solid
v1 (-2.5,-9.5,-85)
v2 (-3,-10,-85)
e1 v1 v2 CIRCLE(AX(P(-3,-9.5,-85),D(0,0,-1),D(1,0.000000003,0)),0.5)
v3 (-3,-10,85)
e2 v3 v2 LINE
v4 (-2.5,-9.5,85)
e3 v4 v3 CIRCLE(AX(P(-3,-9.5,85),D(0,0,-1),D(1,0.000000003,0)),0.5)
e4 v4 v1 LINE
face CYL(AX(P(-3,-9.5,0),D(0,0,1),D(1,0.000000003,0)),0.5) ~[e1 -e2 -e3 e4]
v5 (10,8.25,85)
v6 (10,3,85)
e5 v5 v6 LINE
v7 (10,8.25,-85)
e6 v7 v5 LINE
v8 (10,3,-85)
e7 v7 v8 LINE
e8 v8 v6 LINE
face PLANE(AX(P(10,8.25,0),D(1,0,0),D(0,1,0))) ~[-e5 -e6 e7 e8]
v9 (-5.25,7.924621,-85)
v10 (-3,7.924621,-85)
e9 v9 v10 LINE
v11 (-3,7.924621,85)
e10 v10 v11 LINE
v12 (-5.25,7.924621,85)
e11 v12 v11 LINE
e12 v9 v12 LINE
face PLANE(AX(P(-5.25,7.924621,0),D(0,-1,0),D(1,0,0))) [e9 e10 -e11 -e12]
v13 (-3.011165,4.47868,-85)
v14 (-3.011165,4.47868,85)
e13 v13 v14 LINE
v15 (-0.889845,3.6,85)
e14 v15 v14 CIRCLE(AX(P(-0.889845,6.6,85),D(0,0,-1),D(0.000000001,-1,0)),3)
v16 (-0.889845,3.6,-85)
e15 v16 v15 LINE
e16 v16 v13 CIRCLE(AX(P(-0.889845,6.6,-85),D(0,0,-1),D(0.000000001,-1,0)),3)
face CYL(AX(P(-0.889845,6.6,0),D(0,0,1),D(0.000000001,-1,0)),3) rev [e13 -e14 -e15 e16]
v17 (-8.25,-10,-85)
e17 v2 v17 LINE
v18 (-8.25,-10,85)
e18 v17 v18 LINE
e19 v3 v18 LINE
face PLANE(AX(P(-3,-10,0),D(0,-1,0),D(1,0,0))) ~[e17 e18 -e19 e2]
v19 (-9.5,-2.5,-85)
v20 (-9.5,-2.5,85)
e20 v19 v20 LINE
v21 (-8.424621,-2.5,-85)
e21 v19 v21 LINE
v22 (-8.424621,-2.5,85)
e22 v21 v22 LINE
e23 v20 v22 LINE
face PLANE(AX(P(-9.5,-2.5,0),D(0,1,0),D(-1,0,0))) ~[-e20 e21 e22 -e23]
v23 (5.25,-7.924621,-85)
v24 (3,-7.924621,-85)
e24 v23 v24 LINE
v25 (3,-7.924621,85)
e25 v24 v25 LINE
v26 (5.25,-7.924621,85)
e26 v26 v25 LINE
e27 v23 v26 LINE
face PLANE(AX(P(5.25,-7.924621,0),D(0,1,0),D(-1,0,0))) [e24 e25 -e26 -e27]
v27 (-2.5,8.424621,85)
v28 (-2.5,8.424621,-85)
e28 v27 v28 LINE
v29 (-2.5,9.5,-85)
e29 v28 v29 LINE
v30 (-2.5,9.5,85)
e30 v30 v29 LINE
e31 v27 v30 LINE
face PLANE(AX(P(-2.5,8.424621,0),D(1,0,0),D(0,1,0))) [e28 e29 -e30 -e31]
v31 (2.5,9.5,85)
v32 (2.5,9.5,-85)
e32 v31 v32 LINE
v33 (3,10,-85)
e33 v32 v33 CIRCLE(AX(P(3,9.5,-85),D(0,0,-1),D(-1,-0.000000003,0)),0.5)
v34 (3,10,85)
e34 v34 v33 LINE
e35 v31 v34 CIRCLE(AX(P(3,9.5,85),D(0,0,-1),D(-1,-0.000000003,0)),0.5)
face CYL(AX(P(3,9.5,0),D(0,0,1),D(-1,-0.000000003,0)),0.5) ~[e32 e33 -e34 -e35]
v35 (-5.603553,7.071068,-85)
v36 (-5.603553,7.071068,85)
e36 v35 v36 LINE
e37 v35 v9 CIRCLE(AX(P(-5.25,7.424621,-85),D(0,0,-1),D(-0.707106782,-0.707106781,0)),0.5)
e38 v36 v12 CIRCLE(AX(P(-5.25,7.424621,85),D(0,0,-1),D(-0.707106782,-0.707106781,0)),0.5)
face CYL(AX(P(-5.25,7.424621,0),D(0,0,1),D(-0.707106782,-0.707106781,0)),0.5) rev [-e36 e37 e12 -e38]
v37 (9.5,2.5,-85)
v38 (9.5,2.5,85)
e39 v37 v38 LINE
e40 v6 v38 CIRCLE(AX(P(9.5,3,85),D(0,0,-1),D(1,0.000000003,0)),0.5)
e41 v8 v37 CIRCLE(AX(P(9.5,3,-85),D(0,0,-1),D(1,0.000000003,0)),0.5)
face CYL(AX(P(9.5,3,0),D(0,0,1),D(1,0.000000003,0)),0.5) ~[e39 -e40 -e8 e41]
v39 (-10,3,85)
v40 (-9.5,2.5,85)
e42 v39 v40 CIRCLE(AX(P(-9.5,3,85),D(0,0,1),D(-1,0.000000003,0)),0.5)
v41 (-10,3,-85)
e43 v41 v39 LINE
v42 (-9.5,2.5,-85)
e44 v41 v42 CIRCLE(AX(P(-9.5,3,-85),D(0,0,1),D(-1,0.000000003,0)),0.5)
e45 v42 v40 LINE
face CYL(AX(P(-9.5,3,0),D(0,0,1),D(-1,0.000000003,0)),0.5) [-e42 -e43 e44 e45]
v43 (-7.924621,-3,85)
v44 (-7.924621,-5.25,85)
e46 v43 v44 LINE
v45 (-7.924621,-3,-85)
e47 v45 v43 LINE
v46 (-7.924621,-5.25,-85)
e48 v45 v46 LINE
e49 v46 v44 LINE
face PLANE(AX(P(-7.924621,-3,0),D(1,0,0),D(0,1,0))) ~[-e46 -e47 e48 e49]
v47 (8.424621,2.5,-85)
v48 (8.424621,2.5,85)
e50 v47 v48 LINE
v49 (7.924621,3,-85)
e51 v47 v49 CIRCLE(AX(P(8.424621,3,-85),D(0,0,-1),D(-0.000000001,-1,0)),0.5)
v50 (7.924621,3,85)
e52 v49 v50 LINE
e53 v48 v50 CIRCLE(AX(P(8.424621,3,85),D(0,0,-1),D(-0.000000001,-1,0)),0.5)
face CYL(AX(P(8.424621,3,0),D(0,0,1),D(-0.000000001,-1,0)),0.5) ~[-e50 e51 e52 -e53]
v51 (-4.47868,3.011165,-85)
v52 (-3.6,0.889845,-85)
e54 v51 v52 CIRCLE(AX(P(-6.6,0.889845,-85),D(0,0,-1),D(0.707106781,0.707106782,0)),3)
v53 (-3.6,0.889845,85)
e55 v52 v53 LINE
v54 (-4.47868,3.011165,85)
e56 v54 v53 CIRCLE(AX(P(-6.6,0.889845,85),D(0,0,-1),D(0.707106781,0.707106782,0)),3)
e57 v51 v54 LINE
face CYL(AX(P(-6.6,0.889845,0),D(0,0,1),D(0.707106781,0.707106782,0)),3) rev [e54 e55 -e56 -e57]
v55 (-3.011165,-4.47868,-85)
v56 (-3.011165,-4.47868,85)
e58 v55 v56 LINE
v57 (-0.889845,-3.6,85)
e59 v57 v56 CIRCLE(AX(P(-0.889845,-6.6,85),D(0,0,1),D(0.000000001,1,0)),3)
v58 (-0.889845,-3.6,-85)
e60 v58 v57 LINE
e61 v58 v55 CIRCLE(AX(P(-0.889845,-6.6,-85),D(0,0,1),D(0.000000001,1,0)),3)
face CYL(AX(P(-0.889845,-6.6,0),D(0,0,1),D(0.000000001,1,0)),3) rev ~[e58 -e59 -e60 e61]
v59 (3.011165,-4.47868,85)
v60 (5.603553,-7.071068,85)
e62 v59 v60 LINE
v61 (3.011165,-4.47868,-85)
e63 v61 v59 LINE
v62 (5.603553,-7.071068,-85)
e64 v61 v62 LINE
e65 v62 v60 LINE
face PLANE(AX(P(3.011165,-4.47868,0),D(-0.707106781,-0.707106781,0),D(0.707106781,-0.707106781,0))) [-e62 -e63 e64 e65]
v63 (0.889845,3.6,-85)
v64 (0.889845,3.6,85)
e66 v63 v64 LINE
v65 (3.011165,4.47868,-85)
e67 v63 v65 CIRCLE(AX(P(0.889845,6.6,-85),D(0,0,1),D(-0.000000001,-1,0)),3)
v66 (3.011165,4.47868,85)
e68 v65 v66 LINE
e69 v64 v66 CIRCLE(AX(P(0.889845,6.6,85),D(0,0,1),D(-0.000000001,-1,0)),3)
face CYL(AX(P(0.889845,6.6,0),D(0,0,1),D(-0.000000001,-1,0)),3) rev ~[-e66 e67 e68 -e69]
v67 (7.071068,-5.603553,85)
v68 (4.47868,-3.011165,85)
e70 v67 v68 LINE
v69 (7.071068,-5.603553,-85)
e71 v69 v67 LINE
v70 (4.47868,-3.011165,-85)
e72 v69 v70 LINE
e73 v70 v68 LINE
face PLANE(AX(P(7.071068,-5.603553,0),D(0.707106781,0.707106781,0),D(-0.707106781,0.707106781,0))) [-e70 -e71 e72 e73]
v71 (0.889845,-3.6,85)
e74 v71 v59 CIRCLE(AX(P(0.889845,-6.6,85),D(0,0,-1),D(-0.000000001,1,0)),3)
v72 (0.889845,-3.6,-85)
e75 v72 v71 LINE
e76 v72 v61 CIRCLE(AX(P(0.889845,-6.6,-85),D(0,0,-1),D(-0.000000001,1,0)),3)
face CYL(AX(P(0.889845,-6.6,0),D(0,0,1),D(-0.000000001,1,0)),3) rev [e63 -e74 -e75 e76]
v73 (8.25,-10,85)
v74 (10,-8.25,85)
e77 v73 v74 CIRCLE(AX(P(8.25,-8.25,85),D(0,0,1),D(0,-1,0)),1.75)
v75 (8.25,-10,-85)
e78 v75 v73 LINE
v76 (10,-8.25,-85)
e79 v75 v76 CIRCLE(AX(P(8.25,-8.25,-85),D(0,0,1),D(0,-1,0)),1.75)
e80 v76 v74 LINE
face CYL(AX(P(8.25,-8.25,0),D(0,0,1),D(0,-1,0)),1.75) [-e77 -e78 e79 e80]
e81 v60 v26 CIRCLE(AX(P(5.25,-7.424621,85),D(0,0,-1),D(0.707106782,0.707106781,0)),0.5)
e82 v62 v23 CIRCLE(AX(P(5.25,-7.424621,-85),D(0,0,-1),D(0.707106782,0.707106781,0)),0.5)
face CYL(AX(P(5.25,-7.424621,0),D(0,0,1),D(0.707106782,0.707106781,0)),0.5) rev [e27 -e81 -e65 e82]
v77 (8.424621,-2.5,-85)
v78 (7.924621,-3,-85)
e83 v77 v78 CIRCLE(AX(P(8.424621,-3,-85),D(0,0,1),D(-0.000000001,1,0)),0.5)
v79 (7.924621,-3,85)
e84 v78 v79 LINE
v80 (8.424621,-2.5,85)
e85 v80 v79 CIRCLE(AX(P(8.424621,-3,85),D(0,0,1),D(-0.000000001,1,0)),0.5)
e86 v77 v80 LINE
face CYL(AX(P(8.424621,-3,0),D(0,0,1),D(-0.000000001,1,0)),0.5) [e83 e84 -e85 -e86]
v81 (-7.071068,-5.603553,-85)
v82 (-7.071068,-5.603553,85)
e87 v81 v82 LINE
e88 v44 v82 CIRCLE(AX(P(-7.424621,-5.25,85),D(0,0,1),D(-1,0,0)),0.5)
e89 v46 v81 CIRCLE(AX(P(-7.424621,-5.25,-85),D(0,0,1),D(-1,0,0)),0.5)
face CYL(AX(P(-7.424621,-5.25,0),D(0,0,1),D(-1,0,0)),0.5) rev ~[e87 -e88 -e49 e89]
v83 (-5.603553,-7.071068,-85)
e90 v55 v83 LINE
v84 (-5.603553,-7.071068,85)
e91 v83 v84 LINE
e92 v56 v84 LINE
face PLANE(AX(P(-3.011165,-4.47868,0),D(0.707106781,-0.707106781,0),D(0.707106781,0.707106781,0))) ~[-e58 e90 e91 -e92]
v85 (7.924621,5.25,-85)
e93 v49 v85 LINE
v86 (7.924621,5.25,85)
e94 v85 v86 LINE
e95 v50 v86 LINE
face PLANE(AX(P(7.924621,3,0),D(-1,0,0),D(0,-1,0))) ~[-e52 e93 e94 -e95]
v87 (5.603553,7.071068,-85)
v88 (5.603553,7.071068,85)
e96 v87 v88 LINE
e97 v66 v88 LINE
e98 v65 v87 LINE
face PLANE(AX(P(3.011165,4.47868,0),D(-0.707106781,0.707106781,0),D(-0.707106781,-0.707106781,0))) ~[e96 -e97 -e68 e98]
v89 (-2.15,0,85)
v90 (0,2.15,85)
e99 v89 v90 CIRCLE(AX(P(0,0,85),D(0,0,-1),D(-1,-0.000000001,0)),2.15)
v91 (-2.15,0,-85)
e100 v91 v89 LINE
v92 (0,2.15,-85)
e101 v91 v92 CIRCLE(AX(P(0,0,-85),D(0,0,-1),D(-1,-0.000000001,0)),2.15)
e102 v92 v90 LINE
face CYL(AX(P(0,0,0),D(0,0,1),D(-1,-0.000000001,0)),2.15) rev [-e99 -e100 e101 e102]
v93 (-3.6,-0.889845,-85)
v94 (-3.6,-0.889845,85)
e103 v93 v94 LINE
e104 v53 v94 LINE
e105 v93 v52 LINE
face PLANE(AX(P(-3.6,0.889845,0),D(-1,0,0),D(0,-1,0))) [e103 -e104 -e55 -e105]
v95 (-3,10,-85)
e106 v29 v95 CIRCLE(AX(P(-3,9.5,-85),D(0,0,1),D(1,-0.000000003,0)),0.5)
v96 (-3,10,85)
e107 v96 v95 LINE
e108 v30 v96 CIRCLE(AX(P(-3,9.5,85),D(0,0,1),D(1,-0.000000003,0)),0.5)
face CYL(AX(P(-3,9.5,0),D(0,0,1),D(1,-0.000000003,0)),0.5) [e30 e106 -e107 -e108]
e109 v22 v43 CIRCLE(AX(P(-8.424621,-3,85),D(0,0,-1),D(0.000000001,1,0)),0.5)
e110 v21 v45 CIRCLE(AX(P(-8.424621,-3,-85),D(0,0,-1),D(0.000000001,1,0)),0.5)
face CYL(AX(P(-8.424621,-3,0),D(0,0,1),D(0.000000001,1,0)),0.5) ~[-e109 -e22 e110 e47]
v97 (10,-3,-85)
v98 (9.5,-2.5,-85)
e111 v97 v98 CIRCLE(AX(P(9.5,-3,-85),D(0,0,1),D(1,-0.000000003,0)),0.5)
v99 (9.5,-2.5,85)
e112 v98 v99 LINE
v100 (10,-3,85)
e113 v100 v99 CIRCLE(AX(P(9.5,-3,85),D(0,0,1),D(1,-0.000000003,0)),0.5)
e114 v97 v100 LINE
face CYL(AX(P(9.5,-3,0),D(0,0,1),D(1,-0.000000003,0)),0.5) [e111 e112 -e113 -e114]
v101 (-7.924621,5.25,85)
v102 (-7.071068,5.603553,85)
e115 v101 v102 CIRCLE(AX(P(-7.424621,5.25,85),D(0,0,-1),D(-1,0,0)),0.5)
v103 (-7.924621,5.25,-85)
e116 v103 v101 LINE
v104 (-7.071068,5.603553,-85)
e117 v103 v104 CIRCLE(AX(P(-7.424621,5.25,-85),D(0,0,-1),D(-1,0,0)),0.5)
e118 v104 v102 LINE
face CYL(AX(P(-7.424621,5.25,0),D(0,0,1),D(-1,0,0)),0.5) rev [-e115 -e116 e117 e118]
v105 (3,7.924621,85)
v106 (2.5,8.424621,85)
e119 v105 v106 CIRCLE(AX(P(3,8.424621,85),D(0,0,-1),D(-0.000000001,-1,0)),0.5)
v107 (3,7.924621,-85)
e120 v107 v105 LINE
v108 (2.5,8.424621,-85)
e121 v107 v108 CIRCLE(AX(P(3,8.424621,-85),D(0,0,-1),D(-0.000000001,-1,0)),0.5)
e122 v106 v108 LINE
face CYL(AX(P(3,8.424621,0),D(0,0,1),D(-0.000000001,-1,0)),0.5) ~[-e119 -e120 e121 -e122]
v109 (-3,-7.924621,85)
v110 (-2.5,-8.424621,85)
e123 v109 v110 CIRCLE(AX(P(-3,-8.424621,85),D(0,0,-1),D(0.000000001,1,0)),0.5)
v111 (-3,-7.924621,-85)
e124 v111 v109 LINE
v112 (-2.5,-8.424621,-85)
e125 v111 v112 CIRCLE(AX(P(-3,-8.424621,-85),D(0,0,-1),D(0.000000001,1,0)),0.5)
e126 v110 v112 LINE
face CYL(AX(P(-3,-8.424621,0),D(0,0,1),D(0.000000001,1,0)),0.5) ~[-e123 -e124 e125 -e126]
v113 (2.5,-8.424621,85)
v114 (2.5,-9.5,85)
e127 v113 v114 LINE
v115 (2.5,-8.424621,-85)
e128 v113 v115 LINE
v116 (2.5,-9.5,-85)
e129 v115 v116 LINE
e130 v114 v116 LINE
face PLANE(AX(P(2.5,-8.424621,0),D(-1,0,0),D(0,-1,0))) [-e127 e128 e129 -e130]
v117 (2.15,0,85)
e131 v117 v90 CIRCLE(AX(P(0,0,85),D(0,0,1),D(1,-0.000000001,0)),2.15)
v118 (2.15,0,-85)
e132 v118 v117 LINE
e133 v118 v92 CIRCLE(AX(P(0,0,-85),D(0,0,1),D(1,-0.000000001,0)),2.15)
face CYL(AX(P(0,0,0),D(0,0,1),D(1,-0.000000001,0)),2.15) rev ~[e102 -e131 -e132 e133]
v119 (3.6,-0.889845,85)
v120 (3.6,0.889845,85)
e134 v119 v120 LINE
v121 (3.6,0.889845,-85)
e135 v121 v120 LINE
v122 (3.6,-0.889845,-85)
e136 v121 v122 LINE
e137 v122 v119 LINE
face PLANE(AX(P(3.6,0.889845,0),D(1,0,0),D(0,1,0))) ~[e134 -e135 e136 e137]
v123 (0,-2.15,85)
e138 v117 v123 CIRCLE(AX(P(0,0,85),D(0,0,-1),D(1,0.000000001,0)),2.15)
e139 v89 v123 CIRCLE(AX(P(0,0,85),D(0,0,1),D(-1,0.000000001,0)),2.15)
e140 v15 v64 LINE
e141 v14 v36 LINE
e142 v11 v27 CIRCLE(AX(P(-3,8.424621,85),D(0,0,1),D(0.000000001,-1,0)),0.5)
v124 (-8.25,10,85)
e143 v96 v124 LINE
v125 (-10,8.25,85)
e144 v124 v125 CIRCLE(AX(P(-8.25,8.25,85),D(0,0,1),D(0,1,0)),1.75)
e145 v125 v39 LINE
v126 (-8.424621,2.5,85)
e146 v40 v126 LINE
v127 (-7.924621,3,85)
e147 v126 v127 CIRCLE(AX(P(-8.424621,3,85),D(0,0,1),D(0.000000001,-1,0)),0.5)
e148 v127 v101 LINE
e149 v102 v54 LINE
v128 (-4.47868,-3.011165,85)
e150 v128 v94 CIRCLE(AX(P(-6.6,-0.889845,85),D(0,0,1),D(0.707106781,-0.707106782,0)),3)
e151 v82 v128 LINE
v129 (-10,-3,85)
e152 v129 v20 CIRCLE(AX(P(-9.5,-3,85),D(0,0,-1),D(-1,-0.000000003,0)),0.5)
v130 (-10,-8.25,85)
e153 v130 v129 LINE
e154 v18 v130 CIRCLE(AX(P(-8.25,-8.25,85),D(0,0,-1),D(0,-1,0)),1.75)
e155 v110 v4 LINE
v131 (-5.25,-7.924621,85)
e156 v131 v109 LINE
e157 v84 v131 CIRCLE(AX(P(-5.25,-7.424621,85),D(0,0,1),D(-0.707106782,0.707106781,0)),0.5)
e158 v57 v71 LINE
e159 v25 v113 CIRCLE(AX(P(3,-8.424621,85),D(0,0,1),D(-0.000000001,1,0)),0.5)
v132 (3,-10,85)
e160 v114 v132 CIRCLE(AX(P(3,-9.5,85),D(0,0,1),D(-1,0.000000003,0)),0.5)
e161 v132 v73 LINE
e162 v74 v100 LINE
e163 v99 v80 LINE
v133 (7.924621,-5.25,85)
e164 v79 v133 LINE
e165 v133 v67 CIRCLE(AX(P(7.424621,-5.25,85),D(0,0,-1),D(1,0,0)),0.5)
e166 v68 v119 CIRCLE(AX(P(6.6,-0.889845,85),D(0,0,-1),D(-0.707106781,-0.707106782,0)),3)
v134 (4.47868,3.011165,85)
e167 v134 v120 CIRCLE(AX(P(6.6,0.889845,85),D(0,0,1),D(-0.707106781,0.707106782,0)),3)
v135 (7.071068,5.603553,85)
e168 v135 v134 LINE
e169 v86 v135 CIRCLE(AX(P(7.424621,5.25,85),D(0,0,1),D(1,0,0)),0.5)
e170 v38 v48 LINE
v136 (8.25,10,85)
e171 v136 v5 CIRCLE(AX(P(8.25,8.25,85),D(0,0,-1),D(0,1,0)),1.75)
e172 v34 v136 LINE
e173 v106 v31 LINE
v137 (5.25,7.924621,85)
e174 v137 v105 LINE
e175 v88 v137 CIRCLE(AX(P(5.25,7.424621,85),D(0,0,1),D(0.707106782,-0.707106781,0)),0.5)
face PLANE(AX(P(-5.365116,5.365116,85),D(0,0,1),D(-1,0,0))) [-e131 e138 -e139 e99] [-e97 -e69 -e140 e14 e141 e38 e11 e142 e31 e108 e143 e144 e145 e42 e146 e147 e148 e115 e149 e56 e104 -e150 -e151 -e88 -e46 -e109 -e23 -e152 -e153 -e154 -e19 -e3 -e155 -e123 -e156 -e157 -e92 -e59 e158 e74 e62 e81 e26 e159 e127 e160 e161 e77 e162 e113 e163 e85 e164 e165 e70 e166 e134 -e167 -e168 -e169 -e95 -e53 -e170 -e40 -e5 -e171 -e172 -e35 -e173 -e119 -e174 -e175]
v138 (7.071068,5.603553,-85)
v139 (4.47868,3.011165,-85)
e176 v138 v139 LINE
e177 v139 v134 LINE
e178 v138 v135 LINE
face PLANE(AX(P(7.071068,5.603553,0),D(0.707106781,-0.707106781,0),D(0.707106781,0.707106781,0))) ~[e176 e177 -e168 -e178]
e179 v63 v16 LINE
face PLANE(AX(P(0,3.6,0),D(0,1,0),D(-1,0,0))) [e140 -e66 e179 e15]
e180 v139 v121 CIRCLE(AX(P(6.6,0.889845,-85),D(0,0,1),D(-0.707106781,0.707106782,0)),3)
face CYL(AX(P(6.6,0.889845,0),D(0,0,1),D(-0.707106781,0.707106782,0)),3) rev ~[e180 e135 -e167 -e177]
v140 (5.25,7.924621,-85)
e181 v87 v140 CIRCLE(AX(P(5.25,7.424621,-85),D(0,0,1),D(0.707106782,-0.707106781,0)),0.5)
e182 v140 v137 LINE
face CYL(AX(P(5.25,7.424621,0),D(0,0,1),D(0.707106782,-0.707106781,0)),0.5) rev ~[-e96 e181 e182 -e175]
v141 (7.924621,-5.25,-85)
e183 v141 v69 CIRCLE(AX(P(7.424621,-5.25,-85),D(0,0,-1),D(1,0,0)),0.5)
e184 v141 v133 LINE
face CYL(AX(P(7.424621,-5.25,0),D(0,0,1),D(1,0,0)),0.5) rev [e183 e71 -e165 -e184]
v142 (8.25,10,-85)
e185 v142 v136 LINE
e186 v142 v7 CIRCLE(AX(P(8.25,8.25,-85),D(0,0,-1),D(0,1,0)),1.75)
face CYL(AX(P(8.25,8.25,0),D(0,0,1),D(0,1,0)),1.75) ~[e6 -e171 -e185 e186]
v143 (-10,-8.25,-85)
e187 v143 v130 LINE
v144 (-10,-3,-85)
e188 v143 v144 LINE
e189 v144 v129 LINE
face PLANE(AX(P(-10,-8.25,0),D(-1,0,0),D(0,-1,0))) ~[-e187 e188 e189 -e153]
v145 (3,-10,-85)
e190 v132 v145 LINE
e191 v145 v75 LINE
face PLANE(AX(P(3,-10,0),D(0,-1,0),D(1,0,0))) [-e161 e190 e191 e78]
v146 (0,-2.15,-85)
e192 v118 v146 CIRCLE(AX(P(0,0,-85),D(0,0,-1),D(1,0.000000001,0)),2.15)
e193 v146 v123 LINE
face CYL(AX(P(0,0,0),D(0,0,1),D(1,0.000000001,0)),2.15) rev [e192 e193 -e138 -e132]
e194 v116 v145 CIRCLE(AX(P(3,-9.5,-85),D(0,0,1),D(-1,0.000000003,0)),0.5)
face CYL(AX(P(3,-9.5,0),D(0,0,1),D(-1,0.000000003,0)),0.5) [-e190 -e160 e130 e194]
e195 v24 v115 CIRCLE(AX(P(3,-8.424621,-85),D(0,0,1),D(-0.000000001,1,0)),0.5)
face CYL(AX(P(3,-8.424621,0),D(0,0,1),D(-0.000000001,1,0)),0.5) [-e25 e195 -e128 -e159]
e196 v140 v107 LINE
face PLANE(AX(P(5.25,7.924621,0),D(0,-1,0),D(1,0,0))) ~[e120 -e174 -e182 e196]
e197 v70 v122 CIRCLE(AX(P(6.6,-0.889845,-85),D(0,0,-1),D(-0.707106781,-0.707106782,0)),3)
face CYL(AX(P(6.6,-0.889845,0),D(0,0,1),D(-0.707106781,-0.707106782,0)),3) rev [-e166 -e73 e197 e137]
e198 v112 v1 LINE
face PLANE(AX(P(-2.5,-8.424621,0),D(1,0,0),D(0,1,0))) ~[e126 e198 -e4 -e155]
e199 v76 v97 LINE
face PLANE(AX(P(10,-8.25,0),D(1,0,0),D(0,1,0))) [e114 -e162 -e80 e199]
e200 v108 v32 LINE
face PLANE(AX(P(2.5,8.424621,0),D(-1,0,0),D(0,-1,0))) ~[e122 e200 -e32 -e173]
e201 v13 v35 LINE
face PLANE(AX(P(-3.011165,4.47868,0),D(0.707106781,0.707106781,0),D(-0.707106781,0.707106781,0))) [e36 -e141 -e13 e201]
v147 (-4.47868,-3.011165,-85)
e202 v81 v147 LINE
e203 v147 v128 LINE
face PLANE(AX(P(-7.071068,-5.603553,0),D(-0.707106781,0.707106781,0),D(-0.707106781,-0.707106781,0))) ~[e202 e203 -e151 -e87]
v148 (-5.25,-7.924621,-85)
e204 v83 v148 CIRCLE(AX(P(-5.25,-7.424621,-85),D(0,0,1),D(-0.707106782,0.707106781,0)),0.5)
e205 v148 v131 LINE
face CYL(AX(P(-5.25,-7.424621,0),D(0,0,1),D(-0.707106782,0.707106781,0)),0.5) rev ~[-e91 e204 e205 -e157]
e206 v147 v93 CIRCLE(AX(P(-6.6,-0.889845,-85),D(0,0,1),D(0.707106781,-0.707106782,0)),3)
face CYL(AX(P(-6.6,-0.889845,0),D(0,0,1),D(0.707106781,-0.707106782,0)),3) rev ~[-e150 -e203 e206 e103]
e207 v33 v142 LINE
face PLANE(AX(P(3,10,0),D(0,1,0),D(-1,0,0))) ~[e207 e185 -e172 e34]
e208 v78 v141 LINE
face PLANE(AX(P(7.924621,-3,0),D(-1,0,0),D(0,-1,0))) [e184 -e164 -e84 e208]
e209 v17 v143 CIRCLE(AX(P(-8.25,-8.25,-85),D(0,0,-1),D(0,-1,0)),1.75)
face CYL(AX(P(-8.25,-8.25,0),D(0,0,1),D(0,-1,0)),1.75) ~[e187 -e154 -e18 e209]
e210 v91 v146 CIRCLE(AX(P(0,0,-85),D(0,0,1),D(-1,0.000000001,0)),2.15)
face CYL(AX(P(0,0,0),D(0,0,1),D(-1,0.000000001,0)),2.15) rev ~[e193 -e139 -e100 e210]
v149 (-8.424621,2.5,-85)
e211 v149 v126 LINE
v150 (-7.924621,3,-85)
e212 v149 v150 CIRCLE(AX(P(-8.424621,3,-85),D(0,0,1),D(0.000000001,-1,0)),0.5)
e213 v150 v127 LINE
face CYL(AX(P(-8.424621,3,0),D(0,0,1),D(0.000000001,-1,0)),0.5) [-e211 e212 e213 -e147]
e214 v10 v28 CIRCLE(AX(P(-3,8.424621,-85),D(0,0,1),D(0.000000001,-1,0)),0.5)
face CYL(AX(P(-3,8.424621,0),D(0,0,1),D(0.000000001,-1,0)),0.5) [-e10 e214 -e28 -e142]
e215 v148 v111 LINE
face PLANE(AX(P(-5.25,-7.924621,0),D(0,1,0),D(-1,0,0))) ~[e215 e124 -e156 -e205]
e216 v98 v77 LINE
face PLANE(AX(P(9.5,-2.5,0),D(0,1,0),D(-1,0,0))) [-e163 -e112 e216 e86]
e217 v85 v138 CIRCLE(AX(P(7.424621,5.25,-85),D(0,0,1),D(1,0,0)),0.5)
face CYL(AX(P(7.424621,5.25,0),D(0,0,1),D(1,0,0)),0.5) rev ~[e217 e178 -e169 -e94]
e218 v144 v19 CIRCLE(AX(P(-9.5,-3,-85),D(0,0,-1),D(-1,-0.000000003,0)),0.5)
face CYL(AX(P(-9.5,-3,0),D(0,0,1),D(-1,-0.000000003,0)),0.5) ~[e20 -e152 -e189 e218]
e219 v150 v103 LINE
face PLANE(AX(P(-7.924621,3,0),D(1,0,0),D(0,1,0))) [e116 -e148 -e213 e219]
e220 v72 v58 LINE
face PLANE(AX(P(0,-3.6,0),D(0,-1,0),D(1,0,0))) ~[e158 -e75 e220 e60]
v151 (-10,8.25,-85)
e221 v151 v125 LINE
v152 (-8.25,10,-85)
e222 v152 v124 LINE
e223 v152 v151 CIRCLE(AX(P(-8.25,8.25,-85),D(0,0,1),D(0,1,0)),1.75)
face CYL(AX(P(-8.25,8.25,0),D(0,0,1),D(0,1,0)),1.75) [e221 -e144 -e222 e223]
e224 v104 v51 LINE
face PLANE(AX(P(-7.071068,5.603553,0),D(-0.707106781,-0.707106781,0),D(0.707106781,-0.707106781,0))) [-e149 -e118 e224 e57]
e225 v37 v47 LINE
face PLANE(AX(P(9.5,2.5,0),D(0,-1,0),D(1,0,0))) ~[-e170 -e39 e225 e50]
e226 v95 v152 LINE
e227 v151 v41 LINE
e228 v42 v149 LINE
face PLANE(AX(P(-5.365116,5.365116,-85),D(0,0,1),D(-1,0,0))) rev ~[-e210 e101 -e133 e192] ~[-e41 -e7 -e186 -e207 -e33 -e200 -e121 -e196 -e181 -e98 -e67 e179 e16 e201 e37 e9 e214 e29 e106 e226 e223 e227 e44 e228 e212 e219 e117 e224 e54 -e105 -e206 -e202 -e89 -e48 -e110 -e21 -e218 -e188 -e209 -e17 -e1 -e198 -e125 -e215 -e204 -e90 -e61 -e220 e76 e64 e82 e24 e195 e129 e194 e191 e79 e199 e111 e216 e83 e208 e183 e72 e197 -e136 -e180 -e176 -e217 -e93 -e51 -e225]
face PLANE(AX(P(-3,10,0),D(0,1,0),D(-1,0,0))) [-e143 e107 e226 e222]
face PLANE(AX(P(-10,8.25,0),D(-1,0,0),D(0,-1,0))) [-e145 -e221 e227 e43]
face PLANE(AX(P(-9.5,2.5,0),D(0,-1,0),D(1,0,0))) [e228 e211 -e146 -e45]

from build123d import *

# Parameters (mm, degrees)
BOSS_EXTRUDE1_DEPTH = 85


with BuildPart() as part:
    # Sketch4 → Boss-Extrude1 (new, symmetric)
    with BuildSketch(Plane.XY):
        with BuildLine():
            Line((3, -10), (8.25, -10))
            ThreePointArc((8.25, -10), (9.487436867, -9.487436867), (10, -8.25))
            Line((10, -8.25), (10, -3))
            ThreePointArc((10, -3), (9.853553391, -2.646446609), (9.5, -2.5))
            Line((9.5, -2.5), (8.424621202, -2.5))
            ThreePointArc((8.424621202, -2.5), (8.071067812, -2.646446609), (7.924621202, -3))
            Line((7.924621202, -3), (7.924621202, -5.25))
            ThreePointArc((7.924621202, -5.25), (7.615962919, -5.711939766), (7.071067812, -5.603553391))
            Line((7.071067812, -5.603553391), (4.478679656, -3.011165235))
            ThreePointArc((4.478679656, -3.011165235), (3.828361402, -2.037895189), (3.6, -0.889844892))
            Line((3.6, -0.889844892), (3.6, 0))
            Line((3.6, 0), (2.15, 0))
            ThreePointArc((2.15, 0), (1.52027958, -1.52027958), (0, -2.15))
            Line((0, -2.15), (0, -3.6))
            Line((0, -3.6), (0.889844892, -3.6))
            ThreePointArc((0.889844892, -3.6), (2.037895189, -3.828361402), (3.011165235, -4.478679656))
            Line((3.011165235, -4.478679656), (5.603553391, -7.071067812))
            ThreePointArc((5.603553391, -7.071067812), (5.711939766, -7.615962919), (5.25, -7.924621202))
            Line((5.25, -7.924621202), (3, -7.924621202))
            ThreePointArc((3, -7.924621202), (2.646446609, -8.071067812), (2.5, -8.424621202))
            Line((2.5, -8.424621202), (2.5, -9.5))
            ThreePointArc((2.5, -9.5), (2.646446609, -9.853553391), (3, -10))
        make_face()
    extrude(amount=BOSS_EXTRUDE1_DEPTH, both=True)

    # Mirror1: part across plane


with BuildPart() as part_1:
    add(part.part)
    add(part.part.mirror(Plane(origin=(0, 0, 0), x_dir=(0, 0, 1), z_dir=(1, 0, 0))))

    # Mirror2: part across plane


with BuildPart() as part_2:
    add(part_1.part)
    add(part_1.part.mirror(Plane.ZX))


solid = part_2.part
